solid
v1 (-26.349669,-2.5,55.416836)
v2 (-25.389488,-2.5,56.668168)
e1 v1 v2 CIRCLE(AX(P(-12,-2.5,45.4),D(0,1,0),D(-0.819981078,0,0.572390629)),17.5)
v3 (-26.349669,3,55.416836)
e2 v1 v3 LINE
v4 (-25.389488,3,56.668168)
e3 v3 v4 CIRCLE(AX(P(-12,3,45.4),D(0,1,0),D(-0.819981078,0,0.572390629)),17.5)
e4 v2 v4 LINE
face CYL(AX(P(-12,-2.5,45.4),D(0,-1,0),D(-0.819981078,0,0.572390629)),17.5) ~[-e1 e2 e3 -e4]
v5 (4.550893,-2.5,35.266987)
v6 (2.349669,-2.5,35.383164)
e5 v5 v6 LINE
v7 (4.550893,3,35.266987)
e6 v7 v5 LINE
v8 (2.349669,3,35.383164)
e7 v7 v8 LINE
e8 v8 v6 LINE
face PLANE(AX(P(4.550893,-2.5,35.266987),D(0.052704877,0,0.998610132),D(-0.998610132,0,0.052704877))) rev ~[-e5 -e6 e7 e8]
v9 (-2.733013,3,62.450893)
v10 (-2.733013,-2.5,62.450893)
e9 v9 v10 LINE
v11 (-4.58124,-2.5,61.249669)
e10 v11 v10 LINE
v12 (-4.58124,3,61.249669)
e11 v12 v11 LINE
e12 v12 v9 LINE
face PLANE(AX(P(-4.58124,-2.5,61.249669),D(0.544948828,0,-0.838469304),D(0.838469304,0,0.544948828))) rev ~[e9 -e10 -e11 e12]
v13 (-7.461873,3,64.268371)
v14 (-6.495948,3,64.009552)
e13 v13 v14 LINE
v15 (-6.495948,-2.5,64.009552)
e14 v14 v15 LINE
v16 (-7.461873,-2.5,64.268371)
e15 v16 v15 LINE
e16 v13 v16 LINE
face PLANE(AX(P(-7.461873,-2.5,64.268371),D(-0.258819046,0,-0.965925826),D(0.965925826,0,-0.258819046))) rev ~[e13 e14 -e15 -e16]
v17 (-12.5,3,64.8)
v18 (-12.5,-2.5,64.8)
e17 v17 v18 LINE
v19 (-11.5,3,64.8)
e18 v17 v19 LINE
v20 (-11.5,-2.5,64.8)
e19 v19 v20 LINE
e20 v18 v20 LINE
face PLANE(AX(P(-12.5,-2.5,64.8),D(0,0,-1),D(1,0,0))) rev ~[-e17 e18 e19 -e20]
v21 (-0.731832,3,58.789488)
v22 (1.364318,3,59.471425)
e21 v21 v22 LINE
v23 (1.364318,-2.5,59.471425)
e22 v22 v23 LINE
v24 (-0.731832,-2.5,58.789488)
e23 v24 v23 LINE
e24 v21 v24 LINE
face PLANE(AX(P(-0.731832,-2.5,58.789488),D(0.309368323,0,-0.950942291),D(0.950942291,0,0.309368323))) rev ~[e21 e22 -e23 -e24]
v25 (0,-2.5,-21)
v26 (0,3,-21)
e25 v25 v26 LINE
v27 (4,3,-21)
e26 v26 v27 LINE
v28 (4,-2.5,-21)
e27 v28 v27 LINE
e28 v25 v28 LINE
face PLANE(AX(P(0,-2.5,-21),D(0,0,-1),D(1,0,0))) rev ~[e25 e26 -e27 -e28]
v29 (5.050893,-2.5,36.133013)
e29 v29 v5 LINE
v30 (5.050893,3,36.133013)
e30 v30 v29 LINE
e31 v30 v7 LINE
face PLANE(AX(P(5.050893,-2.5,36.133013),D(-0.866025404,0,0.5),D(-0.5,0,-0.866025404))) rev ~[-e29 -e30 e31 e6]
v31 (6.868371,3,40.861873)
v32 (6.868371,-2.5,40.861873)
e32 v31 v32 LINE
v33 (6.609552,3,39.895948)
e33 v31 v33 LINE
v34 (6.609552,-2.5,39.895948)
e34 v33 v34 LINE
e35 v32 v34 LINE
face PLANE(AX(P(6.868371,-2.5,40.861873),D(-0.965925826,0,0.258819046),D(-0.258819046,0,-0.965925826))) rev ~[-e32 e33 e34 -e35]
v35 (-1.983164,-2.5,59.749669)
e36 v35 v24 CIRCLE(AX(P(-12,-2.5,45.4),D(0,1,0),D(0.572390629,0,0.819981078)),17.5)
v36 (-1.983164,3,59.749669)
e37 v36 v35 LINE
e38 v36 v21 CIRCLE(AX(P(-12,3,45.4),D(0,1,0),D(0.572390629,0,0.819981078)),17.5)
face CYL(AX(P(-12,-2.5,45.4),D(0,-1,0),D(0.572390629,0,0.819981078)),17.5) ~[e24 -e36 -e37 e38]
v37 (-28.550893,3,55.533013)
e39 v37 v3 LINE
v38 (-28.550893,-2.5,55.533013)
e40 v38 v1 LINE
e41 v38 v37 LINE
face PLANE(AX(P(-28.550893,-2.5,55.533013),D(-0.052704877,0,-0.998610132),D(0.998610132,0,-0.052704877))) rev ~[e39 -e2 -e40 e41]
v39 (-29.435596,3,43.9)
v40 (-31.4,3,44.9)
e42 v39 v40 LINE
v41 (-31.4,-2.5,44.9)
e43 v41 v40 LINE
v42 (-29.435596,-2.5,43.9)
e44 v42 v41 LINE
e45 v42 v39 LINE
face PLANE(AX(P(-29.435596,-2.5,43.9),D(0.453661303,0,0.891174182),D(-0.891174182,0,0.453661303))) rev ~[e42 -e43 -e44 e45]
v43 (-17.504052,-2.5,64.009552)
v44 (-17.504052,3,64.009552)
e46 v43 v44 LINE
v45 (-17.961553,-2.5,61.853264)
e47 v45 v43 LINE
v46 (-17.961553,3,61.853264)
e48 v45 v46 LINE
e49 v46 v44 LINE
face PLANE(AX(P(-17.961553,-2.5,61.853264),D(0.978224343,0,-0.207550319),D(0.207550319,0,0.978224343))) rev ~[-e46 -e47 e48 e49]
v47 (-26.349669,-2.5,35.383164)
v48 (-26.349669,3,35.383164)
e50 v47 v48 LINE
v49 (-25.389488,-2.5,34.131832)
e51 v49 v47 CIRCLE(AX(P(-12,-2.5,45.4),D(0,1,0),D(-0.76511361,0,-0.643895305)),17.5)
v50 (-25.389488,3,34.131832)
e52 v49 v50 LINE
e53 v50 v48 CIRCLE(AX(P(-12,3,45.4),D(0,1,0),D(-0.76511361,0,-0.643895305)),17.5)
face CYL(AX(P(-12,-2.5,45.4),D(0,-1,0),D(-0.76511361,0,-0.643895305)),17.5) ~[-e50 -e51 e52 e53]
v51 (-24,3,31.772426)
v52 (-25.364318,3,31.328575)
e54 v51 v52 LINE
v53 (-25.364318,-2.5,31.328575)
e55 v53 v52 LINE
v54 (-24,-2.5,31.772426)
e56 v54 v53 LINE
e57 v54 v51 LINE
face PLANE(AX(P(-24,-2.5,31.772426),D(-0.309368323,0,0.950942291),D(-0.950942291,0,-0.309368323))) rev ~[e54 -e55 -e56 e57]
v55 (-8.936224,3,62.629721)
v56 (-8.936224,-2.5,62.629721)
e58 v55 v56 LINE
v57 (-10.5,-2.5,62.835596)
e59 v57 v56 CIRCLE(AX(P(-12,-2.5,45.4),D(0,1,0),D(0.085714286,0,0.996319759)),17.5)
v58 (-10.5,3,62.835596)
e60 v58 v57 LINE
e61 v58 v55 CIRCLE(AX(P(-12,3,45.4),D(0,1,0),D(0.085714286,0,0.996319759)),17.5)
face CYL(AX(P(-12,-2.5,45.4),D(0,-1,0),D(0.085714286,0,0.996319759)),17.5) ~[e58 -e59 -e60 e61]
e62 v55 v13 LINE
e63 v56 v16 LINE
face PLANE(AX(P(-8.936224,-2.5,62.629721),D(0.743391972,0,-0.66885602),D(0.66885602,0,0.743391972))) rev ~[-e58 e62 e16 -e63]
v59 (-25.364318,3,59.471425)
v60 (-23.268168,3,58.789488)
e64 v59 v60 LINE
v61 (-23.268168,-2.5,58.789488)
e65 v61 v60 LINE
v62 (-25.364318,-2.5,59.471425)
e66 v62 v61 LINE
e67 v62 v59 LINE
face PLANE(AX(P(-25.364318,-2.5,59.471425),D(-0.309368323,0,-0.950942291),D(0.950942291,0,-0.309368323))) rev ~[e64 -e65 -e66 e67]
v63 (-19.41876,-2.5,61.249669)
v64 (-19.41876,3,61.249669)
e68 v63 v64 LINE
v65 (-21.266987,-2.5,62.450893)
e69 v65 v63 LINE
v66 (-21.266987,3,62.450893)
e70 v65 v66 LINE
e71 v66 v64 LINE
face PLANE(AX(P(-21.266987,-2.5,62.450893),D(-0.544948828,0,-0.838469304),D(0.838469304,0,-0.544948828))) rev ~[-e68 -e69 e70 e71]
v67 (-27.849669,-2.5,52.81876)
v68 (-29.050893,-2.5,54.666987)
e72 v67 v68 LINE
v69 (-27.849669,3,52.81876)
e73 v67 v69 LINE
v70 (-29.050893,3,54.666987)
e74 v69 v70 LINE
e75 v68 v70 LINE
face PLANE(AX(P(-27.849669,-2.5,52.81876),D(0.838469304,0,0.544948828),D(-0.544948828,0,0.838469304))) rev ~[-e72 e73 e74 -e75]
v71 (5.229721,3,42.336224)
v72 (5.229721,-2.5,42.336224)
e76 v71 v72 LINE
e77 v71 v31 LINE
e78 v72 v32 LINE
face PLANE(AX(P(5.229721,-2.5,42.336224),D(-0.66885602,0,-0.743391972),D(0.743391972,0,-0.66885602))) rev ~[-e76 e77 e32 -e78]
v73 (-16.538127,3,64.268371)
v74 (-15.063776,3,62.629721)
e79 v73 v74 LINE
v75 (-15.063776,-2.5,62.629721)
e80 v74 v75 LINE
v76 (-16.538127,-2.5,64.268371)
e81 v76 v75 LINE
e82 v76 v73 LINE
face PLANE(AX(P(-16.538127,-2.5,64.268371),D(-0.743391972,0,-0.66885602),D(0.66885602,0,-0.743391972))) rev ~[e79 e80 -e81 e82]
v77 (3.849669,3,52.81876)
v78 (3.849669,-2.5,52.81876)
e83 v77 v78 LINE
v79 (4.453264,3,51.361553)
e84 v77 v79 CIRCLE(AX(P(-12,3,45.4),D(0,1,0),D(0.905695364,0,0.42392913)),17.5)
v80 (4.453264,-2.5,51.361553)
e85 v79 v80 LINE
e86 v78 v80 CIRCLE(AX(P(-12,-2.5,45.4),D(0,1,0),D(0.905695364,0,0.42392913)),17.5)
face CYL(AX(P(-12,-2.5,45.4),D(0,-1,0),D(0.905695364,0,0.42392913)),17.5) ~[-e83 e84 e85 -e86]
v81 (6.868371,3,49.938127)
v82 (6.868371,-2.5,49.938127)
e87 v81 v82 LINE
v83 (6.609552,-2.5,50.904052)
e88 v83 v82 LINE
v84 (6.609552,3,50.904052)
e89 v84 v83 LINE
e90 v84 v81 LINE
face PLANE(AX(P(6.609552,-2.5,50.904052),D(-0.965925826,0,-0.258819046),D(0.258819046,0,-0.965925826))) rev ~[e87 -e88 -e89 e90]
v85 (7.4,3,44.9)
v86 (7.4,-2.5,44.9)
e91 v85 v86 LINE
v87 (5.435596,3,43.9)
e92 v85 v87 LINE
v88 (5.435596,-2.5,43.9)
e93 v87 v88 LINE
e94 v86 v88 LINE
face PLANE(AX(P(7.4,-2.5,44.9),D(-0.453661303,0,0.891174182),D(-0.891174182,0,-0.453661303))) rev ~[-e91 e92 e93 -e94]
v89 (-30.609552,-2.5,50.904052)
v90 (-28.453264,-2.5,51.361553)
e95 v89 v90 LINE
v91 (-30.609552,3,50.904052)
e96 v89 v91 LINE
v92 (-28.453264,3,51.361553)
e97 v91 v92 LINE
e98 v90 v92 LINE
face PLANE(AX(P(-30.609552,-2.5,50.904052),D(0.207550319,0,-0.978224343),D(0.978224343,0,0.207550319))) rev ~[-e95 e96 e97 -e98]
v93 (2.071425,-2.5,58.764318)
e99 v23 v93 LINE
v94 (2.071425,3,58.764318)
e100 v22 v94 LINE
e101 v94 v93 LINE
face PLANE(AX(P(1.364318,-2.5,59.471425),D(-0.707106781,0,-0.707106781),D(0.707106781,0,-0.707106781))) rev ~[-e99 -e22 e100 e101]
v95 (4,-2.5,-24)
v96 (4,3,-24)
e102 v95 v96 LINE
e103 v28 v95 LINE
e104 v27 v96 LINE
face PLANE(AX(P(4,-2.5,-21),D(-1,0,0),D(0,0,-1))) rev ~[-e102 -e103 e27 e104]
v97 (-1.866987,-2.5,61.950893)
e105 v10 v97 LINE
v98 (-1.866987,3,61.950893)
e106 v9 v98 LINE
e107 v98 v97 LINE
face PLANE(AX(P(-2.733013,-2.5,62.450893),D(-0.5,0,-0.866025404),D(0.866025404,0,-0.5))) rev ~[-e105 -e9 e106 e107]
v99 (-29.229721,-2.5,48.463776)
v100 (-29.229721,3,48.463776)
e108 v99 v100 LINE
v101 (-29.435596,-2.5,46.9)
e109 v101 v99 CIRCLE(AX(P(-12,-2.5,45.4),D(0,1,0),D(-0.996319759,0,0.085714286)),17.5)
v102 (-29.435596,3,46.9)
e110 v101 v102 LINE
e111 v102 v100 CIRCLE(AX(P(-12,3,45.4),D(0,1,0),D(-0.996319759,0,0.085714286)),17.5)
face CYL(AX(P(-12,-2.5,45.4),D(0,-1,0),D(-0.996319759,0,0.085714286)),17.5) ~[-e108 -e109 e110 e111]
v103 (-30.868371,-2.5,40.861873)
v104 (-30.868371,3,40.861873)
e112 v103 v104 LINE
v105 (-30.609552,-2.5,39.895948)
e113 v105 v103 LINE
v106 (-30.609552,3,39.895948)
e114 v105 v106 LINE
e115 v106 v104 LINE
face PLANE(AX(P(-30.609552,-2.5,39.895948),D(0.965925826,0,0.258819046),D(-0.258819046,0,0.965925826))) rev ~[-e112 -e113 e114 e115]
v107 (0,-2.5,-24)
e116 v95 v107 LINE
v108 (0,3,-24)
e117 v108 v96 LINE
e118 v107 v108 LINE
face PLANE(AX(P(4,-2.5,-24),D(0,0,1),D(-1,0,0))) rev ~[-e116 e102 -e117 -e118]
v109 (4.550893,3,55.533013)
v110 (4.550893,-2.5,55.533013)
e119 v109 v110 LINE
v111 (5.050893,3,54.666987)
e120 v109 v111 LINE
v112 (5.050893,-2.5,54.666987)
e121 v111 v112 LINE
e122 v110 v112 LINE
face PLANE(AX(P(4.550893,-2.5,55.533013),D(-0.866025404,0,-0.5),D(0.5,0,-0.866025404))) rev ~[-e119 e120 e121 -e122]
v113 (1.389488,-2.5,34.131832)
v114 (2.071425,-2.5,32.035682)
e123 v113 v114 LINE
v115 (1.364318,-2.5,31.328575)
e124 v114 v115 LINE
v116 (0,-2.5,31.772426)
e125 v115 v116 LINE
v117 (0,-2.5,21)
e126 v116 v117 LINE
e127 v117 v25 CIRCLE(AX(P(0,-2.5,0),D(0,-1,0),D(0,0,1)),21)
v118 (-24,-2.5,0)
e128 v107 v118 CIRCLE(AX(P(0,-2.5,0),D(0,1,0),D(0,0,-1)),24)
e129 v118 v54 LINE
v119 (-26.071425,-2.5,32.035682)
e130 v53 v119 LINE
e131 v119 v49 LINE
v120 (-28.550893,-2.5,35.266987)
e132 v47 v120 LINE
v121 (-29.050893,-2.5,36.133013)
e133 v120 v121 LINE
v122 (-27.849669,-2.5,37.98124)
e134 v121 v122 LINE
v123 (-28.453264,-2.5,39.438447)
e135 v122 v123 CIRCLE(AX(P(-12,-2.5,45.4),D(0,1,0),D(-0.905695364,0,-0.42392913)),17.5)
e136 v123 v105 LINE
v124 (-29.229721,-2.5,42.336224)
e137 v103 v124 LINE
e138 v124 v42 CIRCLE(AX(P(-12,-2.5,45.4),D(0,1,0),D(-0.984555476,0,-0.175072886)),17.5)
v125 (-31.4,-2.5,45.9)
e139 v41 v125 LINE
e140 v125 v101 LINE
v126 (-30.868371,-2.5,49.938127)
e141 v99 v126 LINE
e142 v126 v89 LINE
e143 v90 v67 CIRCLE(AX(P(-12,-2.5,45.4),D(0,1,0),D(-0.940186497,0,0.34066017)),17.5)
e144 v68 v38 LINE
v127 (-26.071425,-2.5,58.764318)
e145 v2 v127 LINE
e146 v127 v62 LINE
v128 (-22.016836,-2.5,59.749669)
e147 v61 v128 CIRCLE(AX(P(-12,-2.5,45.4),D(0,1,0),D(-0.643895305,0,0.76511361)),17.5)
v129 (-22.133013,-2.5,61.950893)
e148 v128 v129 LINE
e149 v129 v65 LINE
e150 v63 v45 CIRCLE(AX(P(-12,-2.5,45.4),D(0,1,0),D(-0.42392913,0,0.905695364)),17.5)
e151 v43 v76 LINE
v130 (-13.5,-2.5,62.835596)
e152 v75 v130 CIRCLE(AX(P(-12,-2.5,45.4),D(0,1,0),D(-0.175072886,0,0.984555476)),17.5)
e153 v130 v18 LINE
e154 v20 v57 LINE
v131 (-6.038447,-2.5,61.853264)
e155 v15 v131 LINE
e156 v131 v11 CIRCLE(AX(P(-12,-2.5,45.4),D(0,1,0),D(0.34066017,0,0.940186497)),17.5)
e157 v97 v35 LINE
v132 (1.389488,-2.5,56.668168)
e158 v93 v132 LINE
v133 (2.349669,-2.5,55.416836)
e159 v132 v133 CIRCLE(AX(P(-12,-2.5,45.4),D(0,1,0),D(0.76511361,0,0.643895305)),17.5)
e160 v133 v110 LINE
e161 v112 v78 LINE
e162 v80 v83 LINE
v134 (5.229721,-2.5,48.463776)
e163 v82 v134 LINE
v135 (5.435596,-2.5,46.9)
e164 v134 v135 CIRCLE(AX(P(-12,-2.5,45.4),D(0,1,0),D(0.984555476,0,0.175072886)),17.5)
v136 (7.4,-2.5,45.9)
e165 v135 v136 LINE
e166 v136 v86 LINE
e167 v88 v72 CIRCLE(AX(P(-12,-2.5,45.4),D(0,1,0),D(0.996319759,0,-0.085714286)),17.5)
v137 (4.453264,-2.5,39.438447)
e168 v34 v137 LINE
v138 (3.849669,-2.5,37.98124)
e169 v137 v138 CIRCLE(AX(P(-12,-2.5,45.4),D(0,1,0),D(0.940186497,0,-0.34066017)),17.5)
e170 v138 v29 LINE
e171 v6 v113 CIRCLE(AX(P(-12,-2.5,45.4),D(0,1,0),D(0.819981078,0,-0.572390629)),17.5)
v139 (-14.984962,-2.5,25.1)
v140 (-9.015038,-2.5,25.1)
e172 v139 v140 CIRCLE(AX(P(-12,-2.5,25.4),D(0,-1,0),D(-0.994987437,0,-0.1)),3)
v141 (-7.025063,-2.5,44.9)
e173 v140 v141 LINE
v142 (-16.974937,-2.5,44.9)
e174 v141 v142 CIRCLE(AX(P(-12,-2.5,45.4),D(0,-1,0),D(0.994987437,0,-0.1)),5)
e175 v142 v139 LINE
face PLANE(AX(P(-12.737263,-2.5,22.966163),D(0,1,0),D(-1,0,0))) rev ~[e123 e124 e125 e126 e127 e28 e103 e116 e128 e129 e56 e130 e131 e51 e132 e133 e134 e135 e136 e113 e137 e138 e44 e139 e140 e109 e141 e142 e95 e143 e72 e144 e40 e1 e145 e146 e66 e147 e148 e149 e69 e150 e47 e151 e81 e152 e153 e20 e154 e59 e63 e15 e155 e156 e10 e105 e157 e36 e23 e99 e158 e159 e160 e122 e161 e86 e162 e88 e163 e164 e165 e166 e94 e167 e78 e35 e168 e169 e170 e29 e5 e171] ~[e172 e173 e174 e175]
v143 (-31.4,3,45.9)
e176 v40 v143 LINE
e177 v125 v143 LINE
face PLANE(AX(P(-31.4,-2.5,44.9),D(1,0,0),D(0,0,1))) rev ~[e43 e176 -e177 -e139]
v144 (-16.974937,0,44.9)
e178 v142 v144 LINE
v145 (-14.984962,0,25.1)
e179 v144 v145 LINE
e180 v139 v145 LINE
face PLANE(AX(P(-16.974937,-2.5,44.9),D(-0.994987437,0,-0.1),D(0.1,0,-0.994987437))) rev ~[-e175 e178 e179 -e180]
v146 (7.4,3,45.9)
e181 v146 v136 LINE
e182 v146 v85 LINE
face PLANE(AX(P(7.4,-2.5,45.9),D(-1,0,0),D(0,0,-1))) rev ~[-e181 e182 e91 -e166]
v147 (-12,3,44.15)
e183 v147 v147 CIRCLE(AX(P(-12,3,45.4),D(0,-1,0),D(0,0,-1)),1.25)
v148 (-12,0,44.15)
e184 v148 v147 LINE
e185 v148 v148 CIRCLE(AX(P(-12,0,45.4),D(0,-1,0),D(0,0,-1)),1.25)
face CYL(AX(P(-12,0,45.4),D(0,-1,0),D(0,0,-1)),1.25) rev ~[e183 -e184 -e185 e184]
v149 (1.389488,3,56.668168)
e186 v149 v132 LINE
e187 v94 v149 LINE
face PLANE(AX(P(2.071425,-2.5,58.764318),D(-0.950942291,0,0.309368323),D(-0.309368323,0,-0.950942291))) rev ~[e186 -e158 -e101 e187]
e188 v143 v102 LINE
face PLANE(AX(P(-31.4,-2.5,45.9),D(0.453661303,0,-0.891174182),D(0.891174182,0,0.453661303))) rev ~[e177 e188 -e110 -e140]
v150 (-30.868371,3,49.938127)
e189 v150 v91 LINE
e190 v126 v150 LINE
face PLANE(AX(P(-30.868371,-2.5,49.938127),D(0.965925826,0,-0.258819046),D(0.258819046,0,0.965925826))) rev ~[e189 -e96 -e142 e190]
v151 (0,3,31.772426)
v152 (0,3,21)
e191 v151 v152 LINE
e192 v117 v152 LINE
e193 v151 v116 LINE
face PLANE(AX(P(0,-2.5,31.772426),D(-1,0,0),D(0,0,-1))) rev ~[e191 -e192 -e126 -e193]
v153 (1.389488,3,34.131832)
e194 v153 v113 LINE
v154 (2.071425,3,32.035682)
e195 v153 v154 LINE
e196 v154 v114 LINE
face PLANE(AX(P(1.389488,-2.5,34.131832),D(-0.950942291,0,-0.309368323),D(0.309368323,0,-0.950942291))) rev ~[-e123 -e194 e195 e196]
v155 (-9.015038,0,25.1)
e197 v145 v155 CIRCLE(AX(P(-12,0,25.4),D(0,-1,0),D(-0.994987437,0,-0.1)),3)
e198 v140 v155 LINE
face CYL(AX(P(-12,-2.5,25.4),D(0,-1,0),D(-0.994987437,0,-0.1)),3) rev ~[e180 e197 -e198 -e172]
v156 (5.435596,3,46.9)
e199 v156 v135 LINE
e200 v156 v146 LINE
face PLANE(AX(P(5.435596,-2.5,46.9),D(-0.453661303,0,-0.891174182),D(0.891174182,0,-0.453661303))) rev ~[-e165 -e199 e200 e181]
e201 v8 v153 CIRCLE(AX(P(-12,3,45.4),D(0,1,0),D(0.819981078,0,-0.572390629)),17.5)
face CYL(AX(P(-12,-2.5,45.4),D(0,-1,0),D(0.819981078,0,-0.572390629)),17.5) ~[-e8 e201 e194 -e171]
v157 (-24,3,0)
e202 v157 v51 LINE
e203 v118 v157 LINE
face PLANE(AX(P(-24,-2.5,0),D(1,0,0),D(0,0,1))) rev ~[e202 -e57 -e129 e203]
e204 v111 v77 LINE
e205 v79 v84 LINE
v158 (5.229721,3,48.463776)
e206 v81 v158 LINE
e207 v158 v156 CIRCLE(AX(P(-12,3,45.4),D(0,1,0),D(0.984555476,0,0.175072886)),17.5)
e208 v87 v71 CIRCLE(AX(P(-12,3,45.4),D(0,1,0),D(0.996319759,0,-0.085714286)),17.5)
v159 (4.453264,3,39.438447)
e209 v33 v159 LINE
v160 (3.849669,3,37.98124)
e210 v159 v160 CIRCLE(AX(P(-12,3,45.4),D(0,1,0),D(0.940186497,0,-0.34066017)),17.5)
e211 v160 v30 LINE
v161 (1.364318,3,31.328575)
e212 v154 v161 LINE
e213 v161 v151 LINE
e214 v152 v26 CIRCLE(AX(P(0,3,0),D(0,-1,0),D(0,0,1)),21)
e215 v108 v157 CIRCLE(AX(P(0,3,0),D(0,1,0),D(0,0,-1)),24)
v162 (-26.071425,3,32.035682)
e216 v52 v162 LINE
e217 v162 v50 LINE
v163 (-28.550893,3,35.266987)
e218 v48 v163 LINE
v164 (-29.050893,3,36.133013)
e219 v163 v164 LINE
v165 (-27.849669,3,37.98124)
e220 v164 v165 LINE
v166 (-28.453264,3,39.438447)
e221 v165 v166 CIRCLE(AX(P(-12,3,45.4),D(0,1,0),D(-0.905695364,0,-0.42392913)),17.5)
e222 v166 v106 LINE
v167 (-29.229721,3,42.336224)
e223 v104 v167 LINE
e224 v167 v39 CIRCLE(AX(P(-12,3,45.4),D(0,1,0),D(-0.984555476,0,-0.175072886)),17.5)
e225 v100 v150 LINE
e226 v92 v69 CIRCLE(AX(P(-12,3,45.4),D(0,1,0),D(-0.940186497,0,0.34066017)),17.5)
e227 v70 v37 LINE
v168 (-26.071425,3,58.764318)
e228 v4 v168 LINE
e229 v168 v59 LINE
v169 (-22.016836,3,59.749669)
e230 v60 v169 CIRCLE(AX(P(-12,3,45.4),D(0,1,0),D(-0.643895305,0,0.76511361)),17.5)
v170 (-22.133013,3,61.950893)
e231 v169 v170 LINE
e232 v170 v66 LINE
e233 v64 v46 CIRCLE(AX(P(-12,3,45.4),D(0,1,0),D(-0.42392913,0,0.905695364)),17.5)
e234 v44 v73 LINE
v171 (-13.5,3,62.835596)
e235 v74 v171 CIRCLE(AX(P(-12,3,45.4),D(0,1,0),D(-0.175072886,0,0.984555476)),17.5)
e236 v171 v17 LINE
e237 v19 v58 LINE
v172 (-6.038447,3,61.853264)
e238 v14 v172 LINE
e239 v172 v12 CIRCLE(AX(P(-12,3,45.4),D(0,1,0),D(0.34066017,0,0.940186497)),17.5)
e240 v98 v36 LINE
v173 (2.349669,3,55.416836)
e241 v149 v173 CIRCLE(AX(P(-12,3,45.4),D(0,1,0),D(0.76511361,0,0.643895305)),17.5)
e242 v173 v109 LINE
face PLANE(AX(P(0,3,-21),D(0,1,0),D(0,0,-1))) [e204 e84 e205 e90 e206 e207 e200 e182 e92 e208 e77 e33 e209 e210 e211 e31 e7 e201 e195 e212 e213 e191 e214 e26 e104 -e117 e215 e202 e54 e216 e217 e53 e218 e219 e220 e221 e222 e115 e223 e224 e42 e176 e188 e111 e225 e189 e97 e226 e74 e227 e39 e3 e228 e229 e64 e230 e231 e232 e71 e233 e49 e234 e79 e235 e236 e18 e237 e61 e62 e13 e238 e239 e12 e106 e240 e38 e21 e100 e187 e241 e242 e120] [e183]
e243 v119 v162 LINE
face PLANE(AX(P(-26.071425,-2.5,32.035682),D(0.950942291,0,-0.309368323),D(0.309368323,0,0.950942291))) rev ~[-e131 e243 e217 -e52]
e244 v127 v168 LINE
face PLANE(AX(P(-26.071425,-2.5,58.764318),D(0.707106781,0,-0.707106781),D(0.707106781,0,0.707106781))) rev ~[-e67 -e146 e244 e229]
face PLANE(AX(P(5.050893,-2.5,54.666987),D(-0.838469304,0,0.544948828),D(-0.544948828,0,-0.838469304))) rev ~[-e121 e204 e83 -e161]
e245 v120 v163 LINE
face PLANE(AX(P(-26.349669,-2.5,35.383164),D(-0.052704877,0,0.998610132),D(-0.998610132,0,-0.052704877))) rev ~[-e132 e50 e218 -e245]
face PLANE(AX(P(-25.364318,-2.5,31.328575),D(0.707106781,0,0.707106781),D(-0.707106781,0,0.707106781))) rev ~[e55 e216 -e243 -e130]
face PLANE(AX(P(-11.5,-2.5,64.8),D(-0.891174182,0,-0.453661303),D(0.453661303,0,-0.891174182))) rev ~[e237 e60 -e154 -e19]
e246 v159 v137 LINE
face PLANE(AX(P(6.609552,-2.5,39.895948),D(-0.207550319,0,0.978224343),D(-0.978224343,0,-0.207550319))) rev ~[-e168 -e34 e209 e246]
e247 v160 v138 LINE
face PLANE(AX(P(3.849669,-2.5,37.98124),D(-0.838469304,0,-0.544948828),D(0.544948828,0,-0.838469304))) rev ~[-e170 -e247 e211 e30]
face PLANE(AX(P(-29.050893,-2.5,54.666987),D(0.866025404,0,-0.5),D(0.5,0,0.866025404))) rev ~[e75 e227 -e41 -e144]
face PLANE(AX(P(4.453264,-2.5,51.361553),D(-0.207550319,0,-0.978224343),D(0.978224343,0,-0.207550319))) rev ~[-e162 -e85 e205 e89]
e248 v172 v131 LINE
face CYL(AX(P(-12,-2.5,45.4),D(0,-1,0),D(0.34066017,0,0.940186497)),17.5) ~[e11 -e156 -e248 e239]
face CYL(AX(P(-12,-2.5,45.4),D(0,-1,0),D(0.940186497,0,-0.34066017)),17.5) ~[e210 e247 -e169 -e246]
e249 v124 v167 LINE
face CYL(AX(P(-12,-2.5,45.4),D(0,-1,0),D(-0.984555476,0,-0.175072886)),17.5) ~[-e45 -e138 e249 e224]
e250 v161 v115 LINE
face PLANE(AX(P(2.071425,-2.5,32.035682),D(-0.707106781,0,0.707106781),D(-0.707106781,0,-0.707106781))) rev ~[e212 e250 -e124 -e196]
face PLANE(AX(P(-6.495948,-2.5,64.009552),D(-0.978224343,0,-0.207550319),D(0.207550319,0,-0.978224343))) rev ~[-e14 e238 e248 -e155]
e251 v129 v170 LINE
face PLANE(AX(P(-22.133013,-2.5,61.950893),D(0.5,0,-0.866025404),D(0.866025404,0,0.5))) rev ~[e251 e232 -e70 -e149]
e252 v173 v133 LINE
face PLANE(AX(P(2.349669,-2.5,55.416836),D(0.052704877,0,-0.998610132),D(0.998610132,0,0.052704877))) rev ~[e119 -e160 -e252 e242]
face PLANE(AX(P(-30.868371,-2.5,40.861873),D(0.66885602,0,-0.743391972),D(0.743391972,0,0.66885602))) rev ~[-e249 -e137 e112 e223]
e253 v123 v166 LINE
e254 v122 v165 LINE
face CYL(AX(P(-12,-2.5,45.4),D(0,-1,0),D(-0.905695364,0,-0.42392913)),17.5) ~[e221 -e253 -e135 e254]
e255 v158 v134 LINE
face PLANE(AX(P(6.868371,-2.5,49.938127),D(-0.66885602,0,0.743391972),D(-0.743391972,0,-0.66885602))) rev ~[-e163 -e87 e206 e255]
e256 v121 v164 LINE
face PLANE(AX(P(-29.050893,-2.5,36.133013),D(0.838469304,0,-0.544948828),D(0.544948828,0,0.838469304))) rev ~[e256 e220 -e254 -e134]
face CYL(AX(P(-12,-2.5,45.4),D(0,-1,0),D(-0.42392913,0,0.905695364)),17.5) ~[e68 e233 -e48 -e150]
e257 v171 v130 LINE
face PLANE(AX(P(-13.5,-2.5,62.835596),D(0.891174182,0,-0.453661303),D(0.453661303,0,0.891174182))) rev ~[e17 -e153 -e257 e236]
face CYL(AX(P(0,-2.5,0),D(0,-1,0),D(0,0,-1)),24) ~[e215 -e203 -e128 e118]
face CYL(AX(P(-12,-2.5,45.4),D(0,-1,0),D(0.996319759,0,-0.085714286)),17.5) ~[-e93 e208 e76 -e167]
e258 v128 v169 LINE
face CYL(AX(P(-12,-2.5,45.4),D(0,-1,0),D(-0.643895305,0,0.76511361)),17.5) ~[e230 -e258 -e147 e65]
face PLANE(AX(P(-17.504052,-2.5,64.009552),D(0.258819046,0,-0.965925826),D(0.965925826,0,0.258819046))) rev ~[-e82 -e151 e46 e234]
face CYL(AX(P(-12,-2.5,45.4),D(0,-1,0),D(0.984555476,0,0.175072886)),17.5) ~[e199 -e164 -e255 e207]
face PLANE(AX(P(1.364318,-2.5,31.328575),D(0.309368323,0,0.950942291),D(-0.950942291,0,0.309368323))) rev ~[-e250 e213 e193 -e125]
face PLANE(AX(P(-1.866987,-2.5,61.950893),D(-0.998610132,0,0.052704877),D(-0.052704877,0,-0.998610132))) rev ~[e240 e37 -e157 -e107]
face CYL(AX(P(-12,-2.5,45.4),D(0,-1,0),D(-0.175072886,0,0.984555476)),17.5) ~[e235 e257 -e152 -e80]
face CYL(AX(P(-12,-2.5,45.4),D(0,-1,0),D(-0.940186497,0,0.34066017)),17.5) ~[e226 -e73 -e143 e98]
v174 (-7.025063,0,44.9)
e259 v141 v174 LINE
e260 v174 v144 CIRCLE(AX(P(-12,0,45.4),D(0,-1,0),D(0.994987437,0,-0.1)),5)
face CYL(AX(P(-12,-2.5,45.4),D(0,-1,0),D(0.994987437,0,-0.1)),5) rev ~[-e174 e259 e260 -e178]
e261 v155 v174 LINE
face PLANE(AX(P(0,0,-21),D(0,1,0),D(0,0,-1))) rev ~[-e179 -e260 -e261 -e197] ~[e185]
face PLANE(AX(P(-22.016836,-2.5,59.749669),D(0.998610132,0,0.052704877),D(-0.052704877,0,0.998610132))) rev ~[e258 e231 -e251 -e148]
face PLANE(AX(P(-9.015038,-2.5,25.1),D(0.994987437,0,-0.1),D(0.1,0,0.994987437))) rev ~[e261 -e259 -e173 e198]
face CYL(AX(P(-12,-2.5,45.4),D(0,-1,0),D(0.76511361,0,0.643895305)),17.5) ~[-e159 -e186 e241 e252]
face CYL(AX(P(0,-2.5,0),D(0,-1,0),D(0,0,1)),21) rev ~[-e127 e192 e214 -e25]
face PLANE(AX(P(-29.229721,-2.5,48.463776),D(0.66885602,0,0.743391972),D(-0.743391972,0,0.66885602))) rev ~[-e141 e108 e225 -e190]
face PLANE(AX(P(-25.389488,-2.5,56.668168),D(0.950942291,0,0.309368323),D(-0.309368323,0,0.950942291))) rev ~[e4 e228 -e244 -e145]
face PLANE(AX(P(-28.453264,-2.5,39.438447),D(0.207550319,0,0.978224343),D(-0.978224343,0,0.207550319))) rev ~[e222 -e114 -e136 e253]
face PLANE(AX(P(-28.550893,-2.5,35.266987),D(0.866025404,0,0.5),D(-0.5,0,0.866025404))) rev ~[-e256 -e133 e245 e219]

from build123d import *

# Parameters (mm, degrees)
BOSS_EXTRUDE1_DEPTH = 3
SKETCH3_W           = 3
SKETCH3_H           = 3
BOSS_EXTRUDE2_DEPTH = 4
BOSS_EXTRUDE3_START = 2.5
BOSS_EXTRUDE3_DEPTH = 2.5
SKETCH5_R           = 1.25
CUT_EXTRUDE1_DEPTH  = 16.5


with BuildPart() as part:
    # Sketch1 → Boss-Extrude1 (new body)
    with BuildSketch(Plane(origin=(0, 0, 0), x_dir=(1, 0, 0), z_dir=(0, 1, 0))):
        with BuildLine():
            Line((0, 21), (0, 24))
            ThreePointArc((0, 24), (-16.970562748, 16.970562748), (-24, 0))
            Line((-24, 0), (-24, -31.772426197))
            Line((-24, -31.772426197), (-25.364318164, -31.328575054))
            Line((-25.364318164, -31.328575054), (-26.071424946, -32.035681836))
            Line((-26.071424946, -32.035681836), (-25.389488178, -34.131832166))
            ThreePointArc((-25.389488178, -34.131832166), (-25.883683455, -34.746674992), (-26.349668871, -35.383164007))
            Line((-26.349668871, -35.383164007), (-28.550892833, -35.266987298))
            Line((-28.550892833, -35.266987298), (-29.050892833, -36.133012702))
            Line((-29.050892833, -36.133012702), (-27.849668871, -37.981240219))
            ThreePointArc((-27.849668871, -37.981240219), (-28.167891819, -38.703039934), (-28.453263687, -39.438447012))
            Line((-28.453263687, -39.438447012), (-30.609551507, -39.895947612))
            Line((-30.609551507, -39.895947612), (-30.868370553, -40.861873438))
            Line((-30.868370553, -40.861873438), (-29.229720823, -42.33622449))
            ThreePointArc((-29.229720823, -42.33622449), (-29.350285074, -43.115791636), (-29.435595774, -43.9))
            Line((-29.435595774, -43.9), (-31.4, -44.9))
            Line((-31.4, -44.9), (-31.4, -45.9))
            Line((-31.4, -45.9), (-29.435595774, -46.9))
            ThreePointArc((-29.435595774, -46.9), (-29.350285074, -47.684208364), (-29.229720823, -48.46377551))
            Line((-29.229720823, -48.46377551), (-30.868370553, -49.938126562))
            Line((-30.868370553, -49.938126562), (-30.609551507, -50.904052388))
            Line((-30.609551507, -50.904052388), (-28.453263687, -51.361552988))
            ThreePointArc((-28.453263687, -51.361552988), (-28.167891819, -52.096960066), (-27.849668871, -52.818759781))
            Line((-27.849668871, -52.818759781), (-29.050892833, -54.666987298))
            Line((-29.050892833, -54.666987298), (-28.550892833, -55.533012702))
            Line((-28.550892833, -55.533012702), (-26.349668871, -55.416835993))
            ThreePointArc((-26.349668871, -55.416835993), (-25.883683455, -56.053325008), (-25.389488178, -56.668167834))
            Line((-25.389488178, -56.668167834), (-26.071424946, -58.764318164))
            Line((-26.071424946, -58.764318164), (-25.364318164, -59.471424946))
            Line((-25.364318164, -59.471424946), (-23.268167834, -58.789488178))
            ThreePointArc((-23.268167834, -58.789488178), (-22.653325008, -59.283683455), (-22.016835993, -59.749668871))
            Line((-22.016835993, -59.749668871), (-22.133012702, -61.950892833))
            Line((-22.133012702, -61.950892833), (-21.266987298, -62.450892833))
            Line((-21.266987298, -62.450892833), (-19.418759781, -61.249668871))
            ThreePointArc((-19.418759781, -61.249668871), (-18.696960066, -61.567891819), (-17.961552988, -61.853263687))
            Line((-17.961552988, -61.853263687), (-17.504052388, -64.009551507))
            Line((-17.504052388, -64.009551507), (-16.538126562, -64.268370553))
            Line((-16.538126562, -64.268370553), (-15.06377551, -62.629720823))
            ThreePointArc((-15.06377551, -62.629720823), (-14.284208364, -62.750285074), (-13.5, -62.835595774))
            Line((-13.5, -62.835595774), (-12.5, -64.8))
            Line((-12.5, -64.8), (-11.5, -64.8))
            Line((-11.5, -64.8), (-10.5, -62.835595774))
            ThreePointArc((-10.5, -62.835595774), (-9.715791636, -62.750285074), (-8.93622449, -62.629720823))
            Line((-8.93622449, -62.629720823), (-7.461873438, -64.268370553))
            Line((-7.461873438, -64.268370553), (-6.495947612, -64.009551507))
            Line((-6.495947612, -64.009551507), (-6.038447012, -61.853263687))
            ThreePointArc((-6.038447012, -61.853263687), (-5.303039934, -61.567891819), (-4.581240219, -61.249668871))
            Line((-4.581240219, -61.249668871), (-2.733012702, -62.450892833))
            Line((-2.733012702, -62.450892833), (-1.866987298, -61.950892833))
            Line((-1.866987298, -61.950892833), (-1.983164007, -59.749668871))
            ThreePointArc((-1.983164007, -59.749668871), (-1.346674992, -59.283683455), (-0.731832166, -58.789488178))
            Line((-0.731832166, -58.789488178), (1.364318164, -59.471424946))
            Line((1.364318164, -59.471424946), (2.071424946, -58.764318164))
            Line((2.071424946, -58.764318164), (1.389488178, -56.668167834))
            ThreePointArc((1.389488178, -56.668167834), (1.883683455, -56.053325008), (2.349668871, -55.416835993))
            Line((2.349668871, -55.416835993), (4.550892833, -55.533012702))
            Line((4.550892833, -55.533012702), (5.050892833, -54.666987298))
            Line((5.050892833, -54.666987298), (3.849668871, -52.818759781))
            ThreePointArc((3.849668871, -52.818759781), (4.167891819, -52.096960066), (4.453263687, -51.361552988))
            Line((4.453263687, -51.361552988), (6.609551507, -50.904052388))
            Line((6.609551507, -50.904052388), (6.868370553, -49.938126562))
            Line((6.868370553, -49.938126562), (5.229720823, -48.46377551))
            ThreePointArc((5.229720823, -48.46377551), (5.350285074, -47.684208364), (5.435595774, -46.9))
            Line((5.435595774, -46.9), (7.4, -45.9))
            Line((7.4, -45.9), (7.4, -44.9))
            Line((7.4, -44.9), (5.435595774, -43.9))
            ThreePointArc((5.435595774, -43.9), (5.350285074, -43.115791636), (5.229720823, -42.33622449))
            Line((5.229720823, -42.33622449), (6.868370553, -40.861873438))
            Line((6.868370553, -40.861873438), (6.609551507, -39.895947612))
            Line((6.609551507, -39.895947612), (4.453263687, -39.438447012))
            ThreePointArc((4.453263687, -39.438447012), (4.167891819, -38.703039934), (3.849668871, -37.981240219))
            Line((3.849668871, -37.981240219), (5.050892833, -36.133012702))
            Line((5.050892833, -36.133012702), (4.550892833, -35.266987298))
            Line((4.550892833, -35.266987298), (2.349668871, -35.383164007))
            ThreePointArc((2.349668871, -35.383164007), (1.883683455, -34.746674992), (1.389488178, -34.131832166))
            Line((1.389488178, -34.131832166), (2.071424946, -32.035681836))
            Line((2.071424946, -32.035681836), (1.364318164, -31.328575054))
            Line((1.364318164, -31.328575054), (0, -31.772426197))
            Line((0, -31.772426197), (0, -21))
            ThreePointArc((0, -21), (-21, 0), (0, 21))
        make_face()
    extrude(amount=BOSS_EXTRUDE1_DEPTH)

    # Sketch3 → Boss-Extrude2 (add)
    with BuildSketch(Plane(origin=(0, 0, 0), x_dir=(0, 0, -1), z_dir=(1, 0, 0))):
        with Locations((22.5, 1.5)):
            Rectangle(SKETCH3_W, SKETCH3_H)
    extrude(amount=BOSS_EXTRUDE2_DEPTH)

    # Sketch4 → Boss-Extrude3 (add)
    with BuildSketch(Plane.XZ.offset(BOSS_EXTRUDE3_START)):
        with BuildLine():
            Line((0, 31.772426197), (0, 21))
            ThreePointArc((0, 21), (-21, 0), (0, -21))
            Line((0, -21), (4, -21))
            Line((4, -21), (4, -24))
            Line((4, -24), (0, -24))
            ThreePointArc((0, -24), (-16.970562748, -16.970562748), (-24, 0))
            Line((-24, 0), (-24, 31.772426197))
            Line((-24, 31.772426197), (-25.364318164, 31.328575054))
            Line((-25.364318164, 31.328575054), (-26.071424946, 32.035681836))
            Line((-26.071424946, 32.035681836), (-25.389488178, 34.131832166))
            ThreePointArc((-25.389488178, 34.131832166), (-25.883683455, 34.746674992), (-26.349668871, 35.383164007))
            Line((-26.349668871, 35.383164007), (-28.550892833, 35.266987298))
            Line((-28.550892833, 35.266987298), (-29.050892833, 36.133012702))
            Line((-29.050892833, 36.133012702), (-27.849668871, 37.981240219))
            ThreePointArc((-27.849668871, 37.981240219), (-28.167891819, 38.703039934), (-28.453263687, 39.438447012))
            Line((-28.453263687, 39.438447012), (-30.609551507, 39.895947612))
            Line((-30.609551507, 39.895947612), (-30.868370553, 40.861873438))
            Line((-30.868370553, 40.861873438), (-29.229720823, 42.33622449))
            ThreePointArc((-29.229720823, 42.33622449), (-29.350285074, 43.115791636), (-29.435595774, 43.9))
            Line((-29.435595774, 43.9), (-31.4, 44.9))
            Line((-31.4, 44.9), (-31.4, 45.9))
            Line((-31.4, 45.9), (-29.435595774, 46.9))
            ThreePointArc((-29.435595774, 46.9), (-29.350285074, 47.684208364), (-29.229720823, 48.46377551))
            Line((-29.229720823, 48.46377551), (-30.868370553, 49.938126562))
            Line((-30.868370553, 49.938126562), (-30.609551507, 50.904052388))
            Line((-30.609551507, 50.904052388), (-28.453263687, 51.361552988))
            ThreePointArc((-28.453263687, 51.361552988), (-28.167891819, 52.096960066), (-27.849668871, 52.818759781))
            Line((-27.849668871, 52.818759781), (-29.050892833, 54.666987298))
            Line((-29.050892833, 54.666987298), (-28.550892833, 55.533012702))
            Line((-28.550892833, 55.533012702), (-26.349668871, 55.416835993))
            ThreePointArc((-26.349668871, 55.416835993), (-25.883683455, 56.053325008), (-25.389488178, 56.668167834))
            Line((-25.389488178, 56.668167834), (-26.071424946, 58.764318164))
            Line((-26.071424946, 58.764318164), (-25.364318164, 59.471424946))
            Line((-25.364318164, 59.471424946), (-23.268167834, 58.789488178))
            ThreePointArc((-23.268167834, 58.789488178), (-22.653325008, 59.283683455), (-22.016835993, 59.749668871))
            Line((-22.016835993, 59.749668871), (-22.133012702, 61.950892833))
            Line((-22.133012702, 61.950892833), (-21.266987298, 62.450892833))
            Line((-21.266987298, 62.450892833), (-19.418759781, 61.249668871))
            ThreePointArc((-19.418759781, 61.249668871), (-18.696960066, 61.567891819), (-17.961552988, 61.853263687))
            Line((-17.961552988, 61.853263687), (-17.504052388, 64.009551507))
            Line((-17.504052388, 64.009551507), (-16.538126562, 64.268370553))
            Line((-16.538126562, 64.268370553), (-15.06377551, 62.629720823))
            ThreePointArc((-15.06377551, 62.629720823), (-14.284208364, 62.750285074), (-13.5, 62.835595774))
            Line((-13.5, 62.835595774), (-12.5, 64.8))
            Line((-12.5, 64.8), (-11.5, 64.8))
            Line((-11.5, 64.8), (-10.5, 62.835595774))
            ThreePointArc((-10.5, 62.835595774), (-9.715791636, 62.750285074), (-8.93622449, 62.629720823))
            Line((-8.93622449, 62.629720823), (-7.461873438, 64.268370553))
            Line((-7.461873438, 64.268370553), (-6.495947612, 64.009551507))
            Line((-6.495947612, 64.009551507), (-6.038447012, 61.853263687))
            ThreePointArc((-6.038447012, 61.853263687), (-5.303039934, 61.567891819), (-4.581240219, 61.249668871))
            Line((-4.581240219, 61.249668871), (-2.733012702, 62.450892833))
            Line((-2.733012702, 62.450892833), (-1.866987298, 61.950892833))
            Line((-1.866987298, 61.950892833), (-1.983164007, 59.749668871))
            ThreePointArc((-1.983164007, 59.749668871), (-1.346674992, 59.283683455), (-0.731832166, 58.789488178))
            Line((-0.731832166, 58.789488178), (1.364318164, 59.471424946))
            Line((1.364318164, 59.471424946), (2.071424946, 58.764318164))
            Line((2.071424946, 58.764318164), (1.389488178, 56.668167834))
            ThreePointArc((1.389488178, 56.668167834), (1.883683455, 56.053325008), (2.349668871, 55.416835993))
            Line((2.349668871, 55.416835993), (4.550892833, 55.533012702))
            Line((4.550892833, 55.533012702), (5.050892833, 54.666987298))
            Line((5.050892833, 54.666987298), (3.849668871, 52.818759781))
            ThreePointArc((3.849668871, 52.818759781), (4.167891819, 52.096960066), (4.453263687, 51.361552988))
            Line((4.453263687, 51.361552988), (6.609551507, 50.904052388))
            Line((6.609551507, 50.904052388), (6.868370553, 49.938126562))
            Line((6.868370553, 49.938126562), (5.229720823, 48.46377551))
            ThreePointArc((5.229720823, 48.46377551), (5.350285074, 47.684208364), (5.435595774, 46.9))
            Line((5.435595774, 46.9), (7.4, 45.9))
            Line((7.4, 45.9), (7.4, 44.9))
            Line((7.4, 44.9), (5.435595774, 43.9))
            ThreePointArc((5.435595774, 43.9), (5.350285074, 43.115791636), (5.229720823, 42.33622449))
            Line((5.229720823, 42.33622449), (6.868370553, 40.861873438))
            Line((6.868370553, 40.861873438), (6.609551507, 39.895947612))
            Line((6.609551507, 39.895947612), (4.453263687, 39.438447012))
            ThreePointArc((4.453263687, 39.438447012), (4.167891819, 38.703039934), (3.849668871, 37.981240219))
            Line((3.849668871, 37.981240219), (5.050892833, 36.133012702))
            Line((5.050892833, 36.133012702), (4.550892833, 35.266987298))
            Line((4.550892833, 35.266987298), (2.349668871, 35.383164007))
            ThreePointArc((2.349668871, 35.383164007), (1.883683455, 34.746674992), (1.389488178, 34.131832166))
            Line((1.389488178, 34.131832166), (2.071424946, 32.035681836))
            Line((2.071424946, 32.035681836), (1.364318164, 31.328575054))
            Line((1.364318164, 31.328575054), (0, 31.772426197))
        make_face()
        with BuildLine():
            Line((-9.015037689, 25.1), (-7.025062814, 44.9))
            ThreePointArc((-7.025062814, 44.9), (-12, 50.4), (-16.974937186, 44.9))
            Line((-16.974937186, 44.9), (-14.984962311, 25.1))
            ThreePointArc((-14.984962311, 25.1), (-12, 22.4), (-9.015037689, 25.1))
        make_face(mode=Mode.SUBTRACT)
    extrude(amount=-BOSS_EXTRUDE3_DEPTH)

    # Sketch5 → Cut-Extrude1 (cut)
    with BuildSketch(Plane.XZ):
        with Locations(Location((-12, 45.4, 0), (0, 0, 270))):
            Circle(SKETCH5_R)
    extrude(amount=-CUT_EXTRUDE1_DEPTH, mode=Mode.SUBTRACT)


solid = part.part
